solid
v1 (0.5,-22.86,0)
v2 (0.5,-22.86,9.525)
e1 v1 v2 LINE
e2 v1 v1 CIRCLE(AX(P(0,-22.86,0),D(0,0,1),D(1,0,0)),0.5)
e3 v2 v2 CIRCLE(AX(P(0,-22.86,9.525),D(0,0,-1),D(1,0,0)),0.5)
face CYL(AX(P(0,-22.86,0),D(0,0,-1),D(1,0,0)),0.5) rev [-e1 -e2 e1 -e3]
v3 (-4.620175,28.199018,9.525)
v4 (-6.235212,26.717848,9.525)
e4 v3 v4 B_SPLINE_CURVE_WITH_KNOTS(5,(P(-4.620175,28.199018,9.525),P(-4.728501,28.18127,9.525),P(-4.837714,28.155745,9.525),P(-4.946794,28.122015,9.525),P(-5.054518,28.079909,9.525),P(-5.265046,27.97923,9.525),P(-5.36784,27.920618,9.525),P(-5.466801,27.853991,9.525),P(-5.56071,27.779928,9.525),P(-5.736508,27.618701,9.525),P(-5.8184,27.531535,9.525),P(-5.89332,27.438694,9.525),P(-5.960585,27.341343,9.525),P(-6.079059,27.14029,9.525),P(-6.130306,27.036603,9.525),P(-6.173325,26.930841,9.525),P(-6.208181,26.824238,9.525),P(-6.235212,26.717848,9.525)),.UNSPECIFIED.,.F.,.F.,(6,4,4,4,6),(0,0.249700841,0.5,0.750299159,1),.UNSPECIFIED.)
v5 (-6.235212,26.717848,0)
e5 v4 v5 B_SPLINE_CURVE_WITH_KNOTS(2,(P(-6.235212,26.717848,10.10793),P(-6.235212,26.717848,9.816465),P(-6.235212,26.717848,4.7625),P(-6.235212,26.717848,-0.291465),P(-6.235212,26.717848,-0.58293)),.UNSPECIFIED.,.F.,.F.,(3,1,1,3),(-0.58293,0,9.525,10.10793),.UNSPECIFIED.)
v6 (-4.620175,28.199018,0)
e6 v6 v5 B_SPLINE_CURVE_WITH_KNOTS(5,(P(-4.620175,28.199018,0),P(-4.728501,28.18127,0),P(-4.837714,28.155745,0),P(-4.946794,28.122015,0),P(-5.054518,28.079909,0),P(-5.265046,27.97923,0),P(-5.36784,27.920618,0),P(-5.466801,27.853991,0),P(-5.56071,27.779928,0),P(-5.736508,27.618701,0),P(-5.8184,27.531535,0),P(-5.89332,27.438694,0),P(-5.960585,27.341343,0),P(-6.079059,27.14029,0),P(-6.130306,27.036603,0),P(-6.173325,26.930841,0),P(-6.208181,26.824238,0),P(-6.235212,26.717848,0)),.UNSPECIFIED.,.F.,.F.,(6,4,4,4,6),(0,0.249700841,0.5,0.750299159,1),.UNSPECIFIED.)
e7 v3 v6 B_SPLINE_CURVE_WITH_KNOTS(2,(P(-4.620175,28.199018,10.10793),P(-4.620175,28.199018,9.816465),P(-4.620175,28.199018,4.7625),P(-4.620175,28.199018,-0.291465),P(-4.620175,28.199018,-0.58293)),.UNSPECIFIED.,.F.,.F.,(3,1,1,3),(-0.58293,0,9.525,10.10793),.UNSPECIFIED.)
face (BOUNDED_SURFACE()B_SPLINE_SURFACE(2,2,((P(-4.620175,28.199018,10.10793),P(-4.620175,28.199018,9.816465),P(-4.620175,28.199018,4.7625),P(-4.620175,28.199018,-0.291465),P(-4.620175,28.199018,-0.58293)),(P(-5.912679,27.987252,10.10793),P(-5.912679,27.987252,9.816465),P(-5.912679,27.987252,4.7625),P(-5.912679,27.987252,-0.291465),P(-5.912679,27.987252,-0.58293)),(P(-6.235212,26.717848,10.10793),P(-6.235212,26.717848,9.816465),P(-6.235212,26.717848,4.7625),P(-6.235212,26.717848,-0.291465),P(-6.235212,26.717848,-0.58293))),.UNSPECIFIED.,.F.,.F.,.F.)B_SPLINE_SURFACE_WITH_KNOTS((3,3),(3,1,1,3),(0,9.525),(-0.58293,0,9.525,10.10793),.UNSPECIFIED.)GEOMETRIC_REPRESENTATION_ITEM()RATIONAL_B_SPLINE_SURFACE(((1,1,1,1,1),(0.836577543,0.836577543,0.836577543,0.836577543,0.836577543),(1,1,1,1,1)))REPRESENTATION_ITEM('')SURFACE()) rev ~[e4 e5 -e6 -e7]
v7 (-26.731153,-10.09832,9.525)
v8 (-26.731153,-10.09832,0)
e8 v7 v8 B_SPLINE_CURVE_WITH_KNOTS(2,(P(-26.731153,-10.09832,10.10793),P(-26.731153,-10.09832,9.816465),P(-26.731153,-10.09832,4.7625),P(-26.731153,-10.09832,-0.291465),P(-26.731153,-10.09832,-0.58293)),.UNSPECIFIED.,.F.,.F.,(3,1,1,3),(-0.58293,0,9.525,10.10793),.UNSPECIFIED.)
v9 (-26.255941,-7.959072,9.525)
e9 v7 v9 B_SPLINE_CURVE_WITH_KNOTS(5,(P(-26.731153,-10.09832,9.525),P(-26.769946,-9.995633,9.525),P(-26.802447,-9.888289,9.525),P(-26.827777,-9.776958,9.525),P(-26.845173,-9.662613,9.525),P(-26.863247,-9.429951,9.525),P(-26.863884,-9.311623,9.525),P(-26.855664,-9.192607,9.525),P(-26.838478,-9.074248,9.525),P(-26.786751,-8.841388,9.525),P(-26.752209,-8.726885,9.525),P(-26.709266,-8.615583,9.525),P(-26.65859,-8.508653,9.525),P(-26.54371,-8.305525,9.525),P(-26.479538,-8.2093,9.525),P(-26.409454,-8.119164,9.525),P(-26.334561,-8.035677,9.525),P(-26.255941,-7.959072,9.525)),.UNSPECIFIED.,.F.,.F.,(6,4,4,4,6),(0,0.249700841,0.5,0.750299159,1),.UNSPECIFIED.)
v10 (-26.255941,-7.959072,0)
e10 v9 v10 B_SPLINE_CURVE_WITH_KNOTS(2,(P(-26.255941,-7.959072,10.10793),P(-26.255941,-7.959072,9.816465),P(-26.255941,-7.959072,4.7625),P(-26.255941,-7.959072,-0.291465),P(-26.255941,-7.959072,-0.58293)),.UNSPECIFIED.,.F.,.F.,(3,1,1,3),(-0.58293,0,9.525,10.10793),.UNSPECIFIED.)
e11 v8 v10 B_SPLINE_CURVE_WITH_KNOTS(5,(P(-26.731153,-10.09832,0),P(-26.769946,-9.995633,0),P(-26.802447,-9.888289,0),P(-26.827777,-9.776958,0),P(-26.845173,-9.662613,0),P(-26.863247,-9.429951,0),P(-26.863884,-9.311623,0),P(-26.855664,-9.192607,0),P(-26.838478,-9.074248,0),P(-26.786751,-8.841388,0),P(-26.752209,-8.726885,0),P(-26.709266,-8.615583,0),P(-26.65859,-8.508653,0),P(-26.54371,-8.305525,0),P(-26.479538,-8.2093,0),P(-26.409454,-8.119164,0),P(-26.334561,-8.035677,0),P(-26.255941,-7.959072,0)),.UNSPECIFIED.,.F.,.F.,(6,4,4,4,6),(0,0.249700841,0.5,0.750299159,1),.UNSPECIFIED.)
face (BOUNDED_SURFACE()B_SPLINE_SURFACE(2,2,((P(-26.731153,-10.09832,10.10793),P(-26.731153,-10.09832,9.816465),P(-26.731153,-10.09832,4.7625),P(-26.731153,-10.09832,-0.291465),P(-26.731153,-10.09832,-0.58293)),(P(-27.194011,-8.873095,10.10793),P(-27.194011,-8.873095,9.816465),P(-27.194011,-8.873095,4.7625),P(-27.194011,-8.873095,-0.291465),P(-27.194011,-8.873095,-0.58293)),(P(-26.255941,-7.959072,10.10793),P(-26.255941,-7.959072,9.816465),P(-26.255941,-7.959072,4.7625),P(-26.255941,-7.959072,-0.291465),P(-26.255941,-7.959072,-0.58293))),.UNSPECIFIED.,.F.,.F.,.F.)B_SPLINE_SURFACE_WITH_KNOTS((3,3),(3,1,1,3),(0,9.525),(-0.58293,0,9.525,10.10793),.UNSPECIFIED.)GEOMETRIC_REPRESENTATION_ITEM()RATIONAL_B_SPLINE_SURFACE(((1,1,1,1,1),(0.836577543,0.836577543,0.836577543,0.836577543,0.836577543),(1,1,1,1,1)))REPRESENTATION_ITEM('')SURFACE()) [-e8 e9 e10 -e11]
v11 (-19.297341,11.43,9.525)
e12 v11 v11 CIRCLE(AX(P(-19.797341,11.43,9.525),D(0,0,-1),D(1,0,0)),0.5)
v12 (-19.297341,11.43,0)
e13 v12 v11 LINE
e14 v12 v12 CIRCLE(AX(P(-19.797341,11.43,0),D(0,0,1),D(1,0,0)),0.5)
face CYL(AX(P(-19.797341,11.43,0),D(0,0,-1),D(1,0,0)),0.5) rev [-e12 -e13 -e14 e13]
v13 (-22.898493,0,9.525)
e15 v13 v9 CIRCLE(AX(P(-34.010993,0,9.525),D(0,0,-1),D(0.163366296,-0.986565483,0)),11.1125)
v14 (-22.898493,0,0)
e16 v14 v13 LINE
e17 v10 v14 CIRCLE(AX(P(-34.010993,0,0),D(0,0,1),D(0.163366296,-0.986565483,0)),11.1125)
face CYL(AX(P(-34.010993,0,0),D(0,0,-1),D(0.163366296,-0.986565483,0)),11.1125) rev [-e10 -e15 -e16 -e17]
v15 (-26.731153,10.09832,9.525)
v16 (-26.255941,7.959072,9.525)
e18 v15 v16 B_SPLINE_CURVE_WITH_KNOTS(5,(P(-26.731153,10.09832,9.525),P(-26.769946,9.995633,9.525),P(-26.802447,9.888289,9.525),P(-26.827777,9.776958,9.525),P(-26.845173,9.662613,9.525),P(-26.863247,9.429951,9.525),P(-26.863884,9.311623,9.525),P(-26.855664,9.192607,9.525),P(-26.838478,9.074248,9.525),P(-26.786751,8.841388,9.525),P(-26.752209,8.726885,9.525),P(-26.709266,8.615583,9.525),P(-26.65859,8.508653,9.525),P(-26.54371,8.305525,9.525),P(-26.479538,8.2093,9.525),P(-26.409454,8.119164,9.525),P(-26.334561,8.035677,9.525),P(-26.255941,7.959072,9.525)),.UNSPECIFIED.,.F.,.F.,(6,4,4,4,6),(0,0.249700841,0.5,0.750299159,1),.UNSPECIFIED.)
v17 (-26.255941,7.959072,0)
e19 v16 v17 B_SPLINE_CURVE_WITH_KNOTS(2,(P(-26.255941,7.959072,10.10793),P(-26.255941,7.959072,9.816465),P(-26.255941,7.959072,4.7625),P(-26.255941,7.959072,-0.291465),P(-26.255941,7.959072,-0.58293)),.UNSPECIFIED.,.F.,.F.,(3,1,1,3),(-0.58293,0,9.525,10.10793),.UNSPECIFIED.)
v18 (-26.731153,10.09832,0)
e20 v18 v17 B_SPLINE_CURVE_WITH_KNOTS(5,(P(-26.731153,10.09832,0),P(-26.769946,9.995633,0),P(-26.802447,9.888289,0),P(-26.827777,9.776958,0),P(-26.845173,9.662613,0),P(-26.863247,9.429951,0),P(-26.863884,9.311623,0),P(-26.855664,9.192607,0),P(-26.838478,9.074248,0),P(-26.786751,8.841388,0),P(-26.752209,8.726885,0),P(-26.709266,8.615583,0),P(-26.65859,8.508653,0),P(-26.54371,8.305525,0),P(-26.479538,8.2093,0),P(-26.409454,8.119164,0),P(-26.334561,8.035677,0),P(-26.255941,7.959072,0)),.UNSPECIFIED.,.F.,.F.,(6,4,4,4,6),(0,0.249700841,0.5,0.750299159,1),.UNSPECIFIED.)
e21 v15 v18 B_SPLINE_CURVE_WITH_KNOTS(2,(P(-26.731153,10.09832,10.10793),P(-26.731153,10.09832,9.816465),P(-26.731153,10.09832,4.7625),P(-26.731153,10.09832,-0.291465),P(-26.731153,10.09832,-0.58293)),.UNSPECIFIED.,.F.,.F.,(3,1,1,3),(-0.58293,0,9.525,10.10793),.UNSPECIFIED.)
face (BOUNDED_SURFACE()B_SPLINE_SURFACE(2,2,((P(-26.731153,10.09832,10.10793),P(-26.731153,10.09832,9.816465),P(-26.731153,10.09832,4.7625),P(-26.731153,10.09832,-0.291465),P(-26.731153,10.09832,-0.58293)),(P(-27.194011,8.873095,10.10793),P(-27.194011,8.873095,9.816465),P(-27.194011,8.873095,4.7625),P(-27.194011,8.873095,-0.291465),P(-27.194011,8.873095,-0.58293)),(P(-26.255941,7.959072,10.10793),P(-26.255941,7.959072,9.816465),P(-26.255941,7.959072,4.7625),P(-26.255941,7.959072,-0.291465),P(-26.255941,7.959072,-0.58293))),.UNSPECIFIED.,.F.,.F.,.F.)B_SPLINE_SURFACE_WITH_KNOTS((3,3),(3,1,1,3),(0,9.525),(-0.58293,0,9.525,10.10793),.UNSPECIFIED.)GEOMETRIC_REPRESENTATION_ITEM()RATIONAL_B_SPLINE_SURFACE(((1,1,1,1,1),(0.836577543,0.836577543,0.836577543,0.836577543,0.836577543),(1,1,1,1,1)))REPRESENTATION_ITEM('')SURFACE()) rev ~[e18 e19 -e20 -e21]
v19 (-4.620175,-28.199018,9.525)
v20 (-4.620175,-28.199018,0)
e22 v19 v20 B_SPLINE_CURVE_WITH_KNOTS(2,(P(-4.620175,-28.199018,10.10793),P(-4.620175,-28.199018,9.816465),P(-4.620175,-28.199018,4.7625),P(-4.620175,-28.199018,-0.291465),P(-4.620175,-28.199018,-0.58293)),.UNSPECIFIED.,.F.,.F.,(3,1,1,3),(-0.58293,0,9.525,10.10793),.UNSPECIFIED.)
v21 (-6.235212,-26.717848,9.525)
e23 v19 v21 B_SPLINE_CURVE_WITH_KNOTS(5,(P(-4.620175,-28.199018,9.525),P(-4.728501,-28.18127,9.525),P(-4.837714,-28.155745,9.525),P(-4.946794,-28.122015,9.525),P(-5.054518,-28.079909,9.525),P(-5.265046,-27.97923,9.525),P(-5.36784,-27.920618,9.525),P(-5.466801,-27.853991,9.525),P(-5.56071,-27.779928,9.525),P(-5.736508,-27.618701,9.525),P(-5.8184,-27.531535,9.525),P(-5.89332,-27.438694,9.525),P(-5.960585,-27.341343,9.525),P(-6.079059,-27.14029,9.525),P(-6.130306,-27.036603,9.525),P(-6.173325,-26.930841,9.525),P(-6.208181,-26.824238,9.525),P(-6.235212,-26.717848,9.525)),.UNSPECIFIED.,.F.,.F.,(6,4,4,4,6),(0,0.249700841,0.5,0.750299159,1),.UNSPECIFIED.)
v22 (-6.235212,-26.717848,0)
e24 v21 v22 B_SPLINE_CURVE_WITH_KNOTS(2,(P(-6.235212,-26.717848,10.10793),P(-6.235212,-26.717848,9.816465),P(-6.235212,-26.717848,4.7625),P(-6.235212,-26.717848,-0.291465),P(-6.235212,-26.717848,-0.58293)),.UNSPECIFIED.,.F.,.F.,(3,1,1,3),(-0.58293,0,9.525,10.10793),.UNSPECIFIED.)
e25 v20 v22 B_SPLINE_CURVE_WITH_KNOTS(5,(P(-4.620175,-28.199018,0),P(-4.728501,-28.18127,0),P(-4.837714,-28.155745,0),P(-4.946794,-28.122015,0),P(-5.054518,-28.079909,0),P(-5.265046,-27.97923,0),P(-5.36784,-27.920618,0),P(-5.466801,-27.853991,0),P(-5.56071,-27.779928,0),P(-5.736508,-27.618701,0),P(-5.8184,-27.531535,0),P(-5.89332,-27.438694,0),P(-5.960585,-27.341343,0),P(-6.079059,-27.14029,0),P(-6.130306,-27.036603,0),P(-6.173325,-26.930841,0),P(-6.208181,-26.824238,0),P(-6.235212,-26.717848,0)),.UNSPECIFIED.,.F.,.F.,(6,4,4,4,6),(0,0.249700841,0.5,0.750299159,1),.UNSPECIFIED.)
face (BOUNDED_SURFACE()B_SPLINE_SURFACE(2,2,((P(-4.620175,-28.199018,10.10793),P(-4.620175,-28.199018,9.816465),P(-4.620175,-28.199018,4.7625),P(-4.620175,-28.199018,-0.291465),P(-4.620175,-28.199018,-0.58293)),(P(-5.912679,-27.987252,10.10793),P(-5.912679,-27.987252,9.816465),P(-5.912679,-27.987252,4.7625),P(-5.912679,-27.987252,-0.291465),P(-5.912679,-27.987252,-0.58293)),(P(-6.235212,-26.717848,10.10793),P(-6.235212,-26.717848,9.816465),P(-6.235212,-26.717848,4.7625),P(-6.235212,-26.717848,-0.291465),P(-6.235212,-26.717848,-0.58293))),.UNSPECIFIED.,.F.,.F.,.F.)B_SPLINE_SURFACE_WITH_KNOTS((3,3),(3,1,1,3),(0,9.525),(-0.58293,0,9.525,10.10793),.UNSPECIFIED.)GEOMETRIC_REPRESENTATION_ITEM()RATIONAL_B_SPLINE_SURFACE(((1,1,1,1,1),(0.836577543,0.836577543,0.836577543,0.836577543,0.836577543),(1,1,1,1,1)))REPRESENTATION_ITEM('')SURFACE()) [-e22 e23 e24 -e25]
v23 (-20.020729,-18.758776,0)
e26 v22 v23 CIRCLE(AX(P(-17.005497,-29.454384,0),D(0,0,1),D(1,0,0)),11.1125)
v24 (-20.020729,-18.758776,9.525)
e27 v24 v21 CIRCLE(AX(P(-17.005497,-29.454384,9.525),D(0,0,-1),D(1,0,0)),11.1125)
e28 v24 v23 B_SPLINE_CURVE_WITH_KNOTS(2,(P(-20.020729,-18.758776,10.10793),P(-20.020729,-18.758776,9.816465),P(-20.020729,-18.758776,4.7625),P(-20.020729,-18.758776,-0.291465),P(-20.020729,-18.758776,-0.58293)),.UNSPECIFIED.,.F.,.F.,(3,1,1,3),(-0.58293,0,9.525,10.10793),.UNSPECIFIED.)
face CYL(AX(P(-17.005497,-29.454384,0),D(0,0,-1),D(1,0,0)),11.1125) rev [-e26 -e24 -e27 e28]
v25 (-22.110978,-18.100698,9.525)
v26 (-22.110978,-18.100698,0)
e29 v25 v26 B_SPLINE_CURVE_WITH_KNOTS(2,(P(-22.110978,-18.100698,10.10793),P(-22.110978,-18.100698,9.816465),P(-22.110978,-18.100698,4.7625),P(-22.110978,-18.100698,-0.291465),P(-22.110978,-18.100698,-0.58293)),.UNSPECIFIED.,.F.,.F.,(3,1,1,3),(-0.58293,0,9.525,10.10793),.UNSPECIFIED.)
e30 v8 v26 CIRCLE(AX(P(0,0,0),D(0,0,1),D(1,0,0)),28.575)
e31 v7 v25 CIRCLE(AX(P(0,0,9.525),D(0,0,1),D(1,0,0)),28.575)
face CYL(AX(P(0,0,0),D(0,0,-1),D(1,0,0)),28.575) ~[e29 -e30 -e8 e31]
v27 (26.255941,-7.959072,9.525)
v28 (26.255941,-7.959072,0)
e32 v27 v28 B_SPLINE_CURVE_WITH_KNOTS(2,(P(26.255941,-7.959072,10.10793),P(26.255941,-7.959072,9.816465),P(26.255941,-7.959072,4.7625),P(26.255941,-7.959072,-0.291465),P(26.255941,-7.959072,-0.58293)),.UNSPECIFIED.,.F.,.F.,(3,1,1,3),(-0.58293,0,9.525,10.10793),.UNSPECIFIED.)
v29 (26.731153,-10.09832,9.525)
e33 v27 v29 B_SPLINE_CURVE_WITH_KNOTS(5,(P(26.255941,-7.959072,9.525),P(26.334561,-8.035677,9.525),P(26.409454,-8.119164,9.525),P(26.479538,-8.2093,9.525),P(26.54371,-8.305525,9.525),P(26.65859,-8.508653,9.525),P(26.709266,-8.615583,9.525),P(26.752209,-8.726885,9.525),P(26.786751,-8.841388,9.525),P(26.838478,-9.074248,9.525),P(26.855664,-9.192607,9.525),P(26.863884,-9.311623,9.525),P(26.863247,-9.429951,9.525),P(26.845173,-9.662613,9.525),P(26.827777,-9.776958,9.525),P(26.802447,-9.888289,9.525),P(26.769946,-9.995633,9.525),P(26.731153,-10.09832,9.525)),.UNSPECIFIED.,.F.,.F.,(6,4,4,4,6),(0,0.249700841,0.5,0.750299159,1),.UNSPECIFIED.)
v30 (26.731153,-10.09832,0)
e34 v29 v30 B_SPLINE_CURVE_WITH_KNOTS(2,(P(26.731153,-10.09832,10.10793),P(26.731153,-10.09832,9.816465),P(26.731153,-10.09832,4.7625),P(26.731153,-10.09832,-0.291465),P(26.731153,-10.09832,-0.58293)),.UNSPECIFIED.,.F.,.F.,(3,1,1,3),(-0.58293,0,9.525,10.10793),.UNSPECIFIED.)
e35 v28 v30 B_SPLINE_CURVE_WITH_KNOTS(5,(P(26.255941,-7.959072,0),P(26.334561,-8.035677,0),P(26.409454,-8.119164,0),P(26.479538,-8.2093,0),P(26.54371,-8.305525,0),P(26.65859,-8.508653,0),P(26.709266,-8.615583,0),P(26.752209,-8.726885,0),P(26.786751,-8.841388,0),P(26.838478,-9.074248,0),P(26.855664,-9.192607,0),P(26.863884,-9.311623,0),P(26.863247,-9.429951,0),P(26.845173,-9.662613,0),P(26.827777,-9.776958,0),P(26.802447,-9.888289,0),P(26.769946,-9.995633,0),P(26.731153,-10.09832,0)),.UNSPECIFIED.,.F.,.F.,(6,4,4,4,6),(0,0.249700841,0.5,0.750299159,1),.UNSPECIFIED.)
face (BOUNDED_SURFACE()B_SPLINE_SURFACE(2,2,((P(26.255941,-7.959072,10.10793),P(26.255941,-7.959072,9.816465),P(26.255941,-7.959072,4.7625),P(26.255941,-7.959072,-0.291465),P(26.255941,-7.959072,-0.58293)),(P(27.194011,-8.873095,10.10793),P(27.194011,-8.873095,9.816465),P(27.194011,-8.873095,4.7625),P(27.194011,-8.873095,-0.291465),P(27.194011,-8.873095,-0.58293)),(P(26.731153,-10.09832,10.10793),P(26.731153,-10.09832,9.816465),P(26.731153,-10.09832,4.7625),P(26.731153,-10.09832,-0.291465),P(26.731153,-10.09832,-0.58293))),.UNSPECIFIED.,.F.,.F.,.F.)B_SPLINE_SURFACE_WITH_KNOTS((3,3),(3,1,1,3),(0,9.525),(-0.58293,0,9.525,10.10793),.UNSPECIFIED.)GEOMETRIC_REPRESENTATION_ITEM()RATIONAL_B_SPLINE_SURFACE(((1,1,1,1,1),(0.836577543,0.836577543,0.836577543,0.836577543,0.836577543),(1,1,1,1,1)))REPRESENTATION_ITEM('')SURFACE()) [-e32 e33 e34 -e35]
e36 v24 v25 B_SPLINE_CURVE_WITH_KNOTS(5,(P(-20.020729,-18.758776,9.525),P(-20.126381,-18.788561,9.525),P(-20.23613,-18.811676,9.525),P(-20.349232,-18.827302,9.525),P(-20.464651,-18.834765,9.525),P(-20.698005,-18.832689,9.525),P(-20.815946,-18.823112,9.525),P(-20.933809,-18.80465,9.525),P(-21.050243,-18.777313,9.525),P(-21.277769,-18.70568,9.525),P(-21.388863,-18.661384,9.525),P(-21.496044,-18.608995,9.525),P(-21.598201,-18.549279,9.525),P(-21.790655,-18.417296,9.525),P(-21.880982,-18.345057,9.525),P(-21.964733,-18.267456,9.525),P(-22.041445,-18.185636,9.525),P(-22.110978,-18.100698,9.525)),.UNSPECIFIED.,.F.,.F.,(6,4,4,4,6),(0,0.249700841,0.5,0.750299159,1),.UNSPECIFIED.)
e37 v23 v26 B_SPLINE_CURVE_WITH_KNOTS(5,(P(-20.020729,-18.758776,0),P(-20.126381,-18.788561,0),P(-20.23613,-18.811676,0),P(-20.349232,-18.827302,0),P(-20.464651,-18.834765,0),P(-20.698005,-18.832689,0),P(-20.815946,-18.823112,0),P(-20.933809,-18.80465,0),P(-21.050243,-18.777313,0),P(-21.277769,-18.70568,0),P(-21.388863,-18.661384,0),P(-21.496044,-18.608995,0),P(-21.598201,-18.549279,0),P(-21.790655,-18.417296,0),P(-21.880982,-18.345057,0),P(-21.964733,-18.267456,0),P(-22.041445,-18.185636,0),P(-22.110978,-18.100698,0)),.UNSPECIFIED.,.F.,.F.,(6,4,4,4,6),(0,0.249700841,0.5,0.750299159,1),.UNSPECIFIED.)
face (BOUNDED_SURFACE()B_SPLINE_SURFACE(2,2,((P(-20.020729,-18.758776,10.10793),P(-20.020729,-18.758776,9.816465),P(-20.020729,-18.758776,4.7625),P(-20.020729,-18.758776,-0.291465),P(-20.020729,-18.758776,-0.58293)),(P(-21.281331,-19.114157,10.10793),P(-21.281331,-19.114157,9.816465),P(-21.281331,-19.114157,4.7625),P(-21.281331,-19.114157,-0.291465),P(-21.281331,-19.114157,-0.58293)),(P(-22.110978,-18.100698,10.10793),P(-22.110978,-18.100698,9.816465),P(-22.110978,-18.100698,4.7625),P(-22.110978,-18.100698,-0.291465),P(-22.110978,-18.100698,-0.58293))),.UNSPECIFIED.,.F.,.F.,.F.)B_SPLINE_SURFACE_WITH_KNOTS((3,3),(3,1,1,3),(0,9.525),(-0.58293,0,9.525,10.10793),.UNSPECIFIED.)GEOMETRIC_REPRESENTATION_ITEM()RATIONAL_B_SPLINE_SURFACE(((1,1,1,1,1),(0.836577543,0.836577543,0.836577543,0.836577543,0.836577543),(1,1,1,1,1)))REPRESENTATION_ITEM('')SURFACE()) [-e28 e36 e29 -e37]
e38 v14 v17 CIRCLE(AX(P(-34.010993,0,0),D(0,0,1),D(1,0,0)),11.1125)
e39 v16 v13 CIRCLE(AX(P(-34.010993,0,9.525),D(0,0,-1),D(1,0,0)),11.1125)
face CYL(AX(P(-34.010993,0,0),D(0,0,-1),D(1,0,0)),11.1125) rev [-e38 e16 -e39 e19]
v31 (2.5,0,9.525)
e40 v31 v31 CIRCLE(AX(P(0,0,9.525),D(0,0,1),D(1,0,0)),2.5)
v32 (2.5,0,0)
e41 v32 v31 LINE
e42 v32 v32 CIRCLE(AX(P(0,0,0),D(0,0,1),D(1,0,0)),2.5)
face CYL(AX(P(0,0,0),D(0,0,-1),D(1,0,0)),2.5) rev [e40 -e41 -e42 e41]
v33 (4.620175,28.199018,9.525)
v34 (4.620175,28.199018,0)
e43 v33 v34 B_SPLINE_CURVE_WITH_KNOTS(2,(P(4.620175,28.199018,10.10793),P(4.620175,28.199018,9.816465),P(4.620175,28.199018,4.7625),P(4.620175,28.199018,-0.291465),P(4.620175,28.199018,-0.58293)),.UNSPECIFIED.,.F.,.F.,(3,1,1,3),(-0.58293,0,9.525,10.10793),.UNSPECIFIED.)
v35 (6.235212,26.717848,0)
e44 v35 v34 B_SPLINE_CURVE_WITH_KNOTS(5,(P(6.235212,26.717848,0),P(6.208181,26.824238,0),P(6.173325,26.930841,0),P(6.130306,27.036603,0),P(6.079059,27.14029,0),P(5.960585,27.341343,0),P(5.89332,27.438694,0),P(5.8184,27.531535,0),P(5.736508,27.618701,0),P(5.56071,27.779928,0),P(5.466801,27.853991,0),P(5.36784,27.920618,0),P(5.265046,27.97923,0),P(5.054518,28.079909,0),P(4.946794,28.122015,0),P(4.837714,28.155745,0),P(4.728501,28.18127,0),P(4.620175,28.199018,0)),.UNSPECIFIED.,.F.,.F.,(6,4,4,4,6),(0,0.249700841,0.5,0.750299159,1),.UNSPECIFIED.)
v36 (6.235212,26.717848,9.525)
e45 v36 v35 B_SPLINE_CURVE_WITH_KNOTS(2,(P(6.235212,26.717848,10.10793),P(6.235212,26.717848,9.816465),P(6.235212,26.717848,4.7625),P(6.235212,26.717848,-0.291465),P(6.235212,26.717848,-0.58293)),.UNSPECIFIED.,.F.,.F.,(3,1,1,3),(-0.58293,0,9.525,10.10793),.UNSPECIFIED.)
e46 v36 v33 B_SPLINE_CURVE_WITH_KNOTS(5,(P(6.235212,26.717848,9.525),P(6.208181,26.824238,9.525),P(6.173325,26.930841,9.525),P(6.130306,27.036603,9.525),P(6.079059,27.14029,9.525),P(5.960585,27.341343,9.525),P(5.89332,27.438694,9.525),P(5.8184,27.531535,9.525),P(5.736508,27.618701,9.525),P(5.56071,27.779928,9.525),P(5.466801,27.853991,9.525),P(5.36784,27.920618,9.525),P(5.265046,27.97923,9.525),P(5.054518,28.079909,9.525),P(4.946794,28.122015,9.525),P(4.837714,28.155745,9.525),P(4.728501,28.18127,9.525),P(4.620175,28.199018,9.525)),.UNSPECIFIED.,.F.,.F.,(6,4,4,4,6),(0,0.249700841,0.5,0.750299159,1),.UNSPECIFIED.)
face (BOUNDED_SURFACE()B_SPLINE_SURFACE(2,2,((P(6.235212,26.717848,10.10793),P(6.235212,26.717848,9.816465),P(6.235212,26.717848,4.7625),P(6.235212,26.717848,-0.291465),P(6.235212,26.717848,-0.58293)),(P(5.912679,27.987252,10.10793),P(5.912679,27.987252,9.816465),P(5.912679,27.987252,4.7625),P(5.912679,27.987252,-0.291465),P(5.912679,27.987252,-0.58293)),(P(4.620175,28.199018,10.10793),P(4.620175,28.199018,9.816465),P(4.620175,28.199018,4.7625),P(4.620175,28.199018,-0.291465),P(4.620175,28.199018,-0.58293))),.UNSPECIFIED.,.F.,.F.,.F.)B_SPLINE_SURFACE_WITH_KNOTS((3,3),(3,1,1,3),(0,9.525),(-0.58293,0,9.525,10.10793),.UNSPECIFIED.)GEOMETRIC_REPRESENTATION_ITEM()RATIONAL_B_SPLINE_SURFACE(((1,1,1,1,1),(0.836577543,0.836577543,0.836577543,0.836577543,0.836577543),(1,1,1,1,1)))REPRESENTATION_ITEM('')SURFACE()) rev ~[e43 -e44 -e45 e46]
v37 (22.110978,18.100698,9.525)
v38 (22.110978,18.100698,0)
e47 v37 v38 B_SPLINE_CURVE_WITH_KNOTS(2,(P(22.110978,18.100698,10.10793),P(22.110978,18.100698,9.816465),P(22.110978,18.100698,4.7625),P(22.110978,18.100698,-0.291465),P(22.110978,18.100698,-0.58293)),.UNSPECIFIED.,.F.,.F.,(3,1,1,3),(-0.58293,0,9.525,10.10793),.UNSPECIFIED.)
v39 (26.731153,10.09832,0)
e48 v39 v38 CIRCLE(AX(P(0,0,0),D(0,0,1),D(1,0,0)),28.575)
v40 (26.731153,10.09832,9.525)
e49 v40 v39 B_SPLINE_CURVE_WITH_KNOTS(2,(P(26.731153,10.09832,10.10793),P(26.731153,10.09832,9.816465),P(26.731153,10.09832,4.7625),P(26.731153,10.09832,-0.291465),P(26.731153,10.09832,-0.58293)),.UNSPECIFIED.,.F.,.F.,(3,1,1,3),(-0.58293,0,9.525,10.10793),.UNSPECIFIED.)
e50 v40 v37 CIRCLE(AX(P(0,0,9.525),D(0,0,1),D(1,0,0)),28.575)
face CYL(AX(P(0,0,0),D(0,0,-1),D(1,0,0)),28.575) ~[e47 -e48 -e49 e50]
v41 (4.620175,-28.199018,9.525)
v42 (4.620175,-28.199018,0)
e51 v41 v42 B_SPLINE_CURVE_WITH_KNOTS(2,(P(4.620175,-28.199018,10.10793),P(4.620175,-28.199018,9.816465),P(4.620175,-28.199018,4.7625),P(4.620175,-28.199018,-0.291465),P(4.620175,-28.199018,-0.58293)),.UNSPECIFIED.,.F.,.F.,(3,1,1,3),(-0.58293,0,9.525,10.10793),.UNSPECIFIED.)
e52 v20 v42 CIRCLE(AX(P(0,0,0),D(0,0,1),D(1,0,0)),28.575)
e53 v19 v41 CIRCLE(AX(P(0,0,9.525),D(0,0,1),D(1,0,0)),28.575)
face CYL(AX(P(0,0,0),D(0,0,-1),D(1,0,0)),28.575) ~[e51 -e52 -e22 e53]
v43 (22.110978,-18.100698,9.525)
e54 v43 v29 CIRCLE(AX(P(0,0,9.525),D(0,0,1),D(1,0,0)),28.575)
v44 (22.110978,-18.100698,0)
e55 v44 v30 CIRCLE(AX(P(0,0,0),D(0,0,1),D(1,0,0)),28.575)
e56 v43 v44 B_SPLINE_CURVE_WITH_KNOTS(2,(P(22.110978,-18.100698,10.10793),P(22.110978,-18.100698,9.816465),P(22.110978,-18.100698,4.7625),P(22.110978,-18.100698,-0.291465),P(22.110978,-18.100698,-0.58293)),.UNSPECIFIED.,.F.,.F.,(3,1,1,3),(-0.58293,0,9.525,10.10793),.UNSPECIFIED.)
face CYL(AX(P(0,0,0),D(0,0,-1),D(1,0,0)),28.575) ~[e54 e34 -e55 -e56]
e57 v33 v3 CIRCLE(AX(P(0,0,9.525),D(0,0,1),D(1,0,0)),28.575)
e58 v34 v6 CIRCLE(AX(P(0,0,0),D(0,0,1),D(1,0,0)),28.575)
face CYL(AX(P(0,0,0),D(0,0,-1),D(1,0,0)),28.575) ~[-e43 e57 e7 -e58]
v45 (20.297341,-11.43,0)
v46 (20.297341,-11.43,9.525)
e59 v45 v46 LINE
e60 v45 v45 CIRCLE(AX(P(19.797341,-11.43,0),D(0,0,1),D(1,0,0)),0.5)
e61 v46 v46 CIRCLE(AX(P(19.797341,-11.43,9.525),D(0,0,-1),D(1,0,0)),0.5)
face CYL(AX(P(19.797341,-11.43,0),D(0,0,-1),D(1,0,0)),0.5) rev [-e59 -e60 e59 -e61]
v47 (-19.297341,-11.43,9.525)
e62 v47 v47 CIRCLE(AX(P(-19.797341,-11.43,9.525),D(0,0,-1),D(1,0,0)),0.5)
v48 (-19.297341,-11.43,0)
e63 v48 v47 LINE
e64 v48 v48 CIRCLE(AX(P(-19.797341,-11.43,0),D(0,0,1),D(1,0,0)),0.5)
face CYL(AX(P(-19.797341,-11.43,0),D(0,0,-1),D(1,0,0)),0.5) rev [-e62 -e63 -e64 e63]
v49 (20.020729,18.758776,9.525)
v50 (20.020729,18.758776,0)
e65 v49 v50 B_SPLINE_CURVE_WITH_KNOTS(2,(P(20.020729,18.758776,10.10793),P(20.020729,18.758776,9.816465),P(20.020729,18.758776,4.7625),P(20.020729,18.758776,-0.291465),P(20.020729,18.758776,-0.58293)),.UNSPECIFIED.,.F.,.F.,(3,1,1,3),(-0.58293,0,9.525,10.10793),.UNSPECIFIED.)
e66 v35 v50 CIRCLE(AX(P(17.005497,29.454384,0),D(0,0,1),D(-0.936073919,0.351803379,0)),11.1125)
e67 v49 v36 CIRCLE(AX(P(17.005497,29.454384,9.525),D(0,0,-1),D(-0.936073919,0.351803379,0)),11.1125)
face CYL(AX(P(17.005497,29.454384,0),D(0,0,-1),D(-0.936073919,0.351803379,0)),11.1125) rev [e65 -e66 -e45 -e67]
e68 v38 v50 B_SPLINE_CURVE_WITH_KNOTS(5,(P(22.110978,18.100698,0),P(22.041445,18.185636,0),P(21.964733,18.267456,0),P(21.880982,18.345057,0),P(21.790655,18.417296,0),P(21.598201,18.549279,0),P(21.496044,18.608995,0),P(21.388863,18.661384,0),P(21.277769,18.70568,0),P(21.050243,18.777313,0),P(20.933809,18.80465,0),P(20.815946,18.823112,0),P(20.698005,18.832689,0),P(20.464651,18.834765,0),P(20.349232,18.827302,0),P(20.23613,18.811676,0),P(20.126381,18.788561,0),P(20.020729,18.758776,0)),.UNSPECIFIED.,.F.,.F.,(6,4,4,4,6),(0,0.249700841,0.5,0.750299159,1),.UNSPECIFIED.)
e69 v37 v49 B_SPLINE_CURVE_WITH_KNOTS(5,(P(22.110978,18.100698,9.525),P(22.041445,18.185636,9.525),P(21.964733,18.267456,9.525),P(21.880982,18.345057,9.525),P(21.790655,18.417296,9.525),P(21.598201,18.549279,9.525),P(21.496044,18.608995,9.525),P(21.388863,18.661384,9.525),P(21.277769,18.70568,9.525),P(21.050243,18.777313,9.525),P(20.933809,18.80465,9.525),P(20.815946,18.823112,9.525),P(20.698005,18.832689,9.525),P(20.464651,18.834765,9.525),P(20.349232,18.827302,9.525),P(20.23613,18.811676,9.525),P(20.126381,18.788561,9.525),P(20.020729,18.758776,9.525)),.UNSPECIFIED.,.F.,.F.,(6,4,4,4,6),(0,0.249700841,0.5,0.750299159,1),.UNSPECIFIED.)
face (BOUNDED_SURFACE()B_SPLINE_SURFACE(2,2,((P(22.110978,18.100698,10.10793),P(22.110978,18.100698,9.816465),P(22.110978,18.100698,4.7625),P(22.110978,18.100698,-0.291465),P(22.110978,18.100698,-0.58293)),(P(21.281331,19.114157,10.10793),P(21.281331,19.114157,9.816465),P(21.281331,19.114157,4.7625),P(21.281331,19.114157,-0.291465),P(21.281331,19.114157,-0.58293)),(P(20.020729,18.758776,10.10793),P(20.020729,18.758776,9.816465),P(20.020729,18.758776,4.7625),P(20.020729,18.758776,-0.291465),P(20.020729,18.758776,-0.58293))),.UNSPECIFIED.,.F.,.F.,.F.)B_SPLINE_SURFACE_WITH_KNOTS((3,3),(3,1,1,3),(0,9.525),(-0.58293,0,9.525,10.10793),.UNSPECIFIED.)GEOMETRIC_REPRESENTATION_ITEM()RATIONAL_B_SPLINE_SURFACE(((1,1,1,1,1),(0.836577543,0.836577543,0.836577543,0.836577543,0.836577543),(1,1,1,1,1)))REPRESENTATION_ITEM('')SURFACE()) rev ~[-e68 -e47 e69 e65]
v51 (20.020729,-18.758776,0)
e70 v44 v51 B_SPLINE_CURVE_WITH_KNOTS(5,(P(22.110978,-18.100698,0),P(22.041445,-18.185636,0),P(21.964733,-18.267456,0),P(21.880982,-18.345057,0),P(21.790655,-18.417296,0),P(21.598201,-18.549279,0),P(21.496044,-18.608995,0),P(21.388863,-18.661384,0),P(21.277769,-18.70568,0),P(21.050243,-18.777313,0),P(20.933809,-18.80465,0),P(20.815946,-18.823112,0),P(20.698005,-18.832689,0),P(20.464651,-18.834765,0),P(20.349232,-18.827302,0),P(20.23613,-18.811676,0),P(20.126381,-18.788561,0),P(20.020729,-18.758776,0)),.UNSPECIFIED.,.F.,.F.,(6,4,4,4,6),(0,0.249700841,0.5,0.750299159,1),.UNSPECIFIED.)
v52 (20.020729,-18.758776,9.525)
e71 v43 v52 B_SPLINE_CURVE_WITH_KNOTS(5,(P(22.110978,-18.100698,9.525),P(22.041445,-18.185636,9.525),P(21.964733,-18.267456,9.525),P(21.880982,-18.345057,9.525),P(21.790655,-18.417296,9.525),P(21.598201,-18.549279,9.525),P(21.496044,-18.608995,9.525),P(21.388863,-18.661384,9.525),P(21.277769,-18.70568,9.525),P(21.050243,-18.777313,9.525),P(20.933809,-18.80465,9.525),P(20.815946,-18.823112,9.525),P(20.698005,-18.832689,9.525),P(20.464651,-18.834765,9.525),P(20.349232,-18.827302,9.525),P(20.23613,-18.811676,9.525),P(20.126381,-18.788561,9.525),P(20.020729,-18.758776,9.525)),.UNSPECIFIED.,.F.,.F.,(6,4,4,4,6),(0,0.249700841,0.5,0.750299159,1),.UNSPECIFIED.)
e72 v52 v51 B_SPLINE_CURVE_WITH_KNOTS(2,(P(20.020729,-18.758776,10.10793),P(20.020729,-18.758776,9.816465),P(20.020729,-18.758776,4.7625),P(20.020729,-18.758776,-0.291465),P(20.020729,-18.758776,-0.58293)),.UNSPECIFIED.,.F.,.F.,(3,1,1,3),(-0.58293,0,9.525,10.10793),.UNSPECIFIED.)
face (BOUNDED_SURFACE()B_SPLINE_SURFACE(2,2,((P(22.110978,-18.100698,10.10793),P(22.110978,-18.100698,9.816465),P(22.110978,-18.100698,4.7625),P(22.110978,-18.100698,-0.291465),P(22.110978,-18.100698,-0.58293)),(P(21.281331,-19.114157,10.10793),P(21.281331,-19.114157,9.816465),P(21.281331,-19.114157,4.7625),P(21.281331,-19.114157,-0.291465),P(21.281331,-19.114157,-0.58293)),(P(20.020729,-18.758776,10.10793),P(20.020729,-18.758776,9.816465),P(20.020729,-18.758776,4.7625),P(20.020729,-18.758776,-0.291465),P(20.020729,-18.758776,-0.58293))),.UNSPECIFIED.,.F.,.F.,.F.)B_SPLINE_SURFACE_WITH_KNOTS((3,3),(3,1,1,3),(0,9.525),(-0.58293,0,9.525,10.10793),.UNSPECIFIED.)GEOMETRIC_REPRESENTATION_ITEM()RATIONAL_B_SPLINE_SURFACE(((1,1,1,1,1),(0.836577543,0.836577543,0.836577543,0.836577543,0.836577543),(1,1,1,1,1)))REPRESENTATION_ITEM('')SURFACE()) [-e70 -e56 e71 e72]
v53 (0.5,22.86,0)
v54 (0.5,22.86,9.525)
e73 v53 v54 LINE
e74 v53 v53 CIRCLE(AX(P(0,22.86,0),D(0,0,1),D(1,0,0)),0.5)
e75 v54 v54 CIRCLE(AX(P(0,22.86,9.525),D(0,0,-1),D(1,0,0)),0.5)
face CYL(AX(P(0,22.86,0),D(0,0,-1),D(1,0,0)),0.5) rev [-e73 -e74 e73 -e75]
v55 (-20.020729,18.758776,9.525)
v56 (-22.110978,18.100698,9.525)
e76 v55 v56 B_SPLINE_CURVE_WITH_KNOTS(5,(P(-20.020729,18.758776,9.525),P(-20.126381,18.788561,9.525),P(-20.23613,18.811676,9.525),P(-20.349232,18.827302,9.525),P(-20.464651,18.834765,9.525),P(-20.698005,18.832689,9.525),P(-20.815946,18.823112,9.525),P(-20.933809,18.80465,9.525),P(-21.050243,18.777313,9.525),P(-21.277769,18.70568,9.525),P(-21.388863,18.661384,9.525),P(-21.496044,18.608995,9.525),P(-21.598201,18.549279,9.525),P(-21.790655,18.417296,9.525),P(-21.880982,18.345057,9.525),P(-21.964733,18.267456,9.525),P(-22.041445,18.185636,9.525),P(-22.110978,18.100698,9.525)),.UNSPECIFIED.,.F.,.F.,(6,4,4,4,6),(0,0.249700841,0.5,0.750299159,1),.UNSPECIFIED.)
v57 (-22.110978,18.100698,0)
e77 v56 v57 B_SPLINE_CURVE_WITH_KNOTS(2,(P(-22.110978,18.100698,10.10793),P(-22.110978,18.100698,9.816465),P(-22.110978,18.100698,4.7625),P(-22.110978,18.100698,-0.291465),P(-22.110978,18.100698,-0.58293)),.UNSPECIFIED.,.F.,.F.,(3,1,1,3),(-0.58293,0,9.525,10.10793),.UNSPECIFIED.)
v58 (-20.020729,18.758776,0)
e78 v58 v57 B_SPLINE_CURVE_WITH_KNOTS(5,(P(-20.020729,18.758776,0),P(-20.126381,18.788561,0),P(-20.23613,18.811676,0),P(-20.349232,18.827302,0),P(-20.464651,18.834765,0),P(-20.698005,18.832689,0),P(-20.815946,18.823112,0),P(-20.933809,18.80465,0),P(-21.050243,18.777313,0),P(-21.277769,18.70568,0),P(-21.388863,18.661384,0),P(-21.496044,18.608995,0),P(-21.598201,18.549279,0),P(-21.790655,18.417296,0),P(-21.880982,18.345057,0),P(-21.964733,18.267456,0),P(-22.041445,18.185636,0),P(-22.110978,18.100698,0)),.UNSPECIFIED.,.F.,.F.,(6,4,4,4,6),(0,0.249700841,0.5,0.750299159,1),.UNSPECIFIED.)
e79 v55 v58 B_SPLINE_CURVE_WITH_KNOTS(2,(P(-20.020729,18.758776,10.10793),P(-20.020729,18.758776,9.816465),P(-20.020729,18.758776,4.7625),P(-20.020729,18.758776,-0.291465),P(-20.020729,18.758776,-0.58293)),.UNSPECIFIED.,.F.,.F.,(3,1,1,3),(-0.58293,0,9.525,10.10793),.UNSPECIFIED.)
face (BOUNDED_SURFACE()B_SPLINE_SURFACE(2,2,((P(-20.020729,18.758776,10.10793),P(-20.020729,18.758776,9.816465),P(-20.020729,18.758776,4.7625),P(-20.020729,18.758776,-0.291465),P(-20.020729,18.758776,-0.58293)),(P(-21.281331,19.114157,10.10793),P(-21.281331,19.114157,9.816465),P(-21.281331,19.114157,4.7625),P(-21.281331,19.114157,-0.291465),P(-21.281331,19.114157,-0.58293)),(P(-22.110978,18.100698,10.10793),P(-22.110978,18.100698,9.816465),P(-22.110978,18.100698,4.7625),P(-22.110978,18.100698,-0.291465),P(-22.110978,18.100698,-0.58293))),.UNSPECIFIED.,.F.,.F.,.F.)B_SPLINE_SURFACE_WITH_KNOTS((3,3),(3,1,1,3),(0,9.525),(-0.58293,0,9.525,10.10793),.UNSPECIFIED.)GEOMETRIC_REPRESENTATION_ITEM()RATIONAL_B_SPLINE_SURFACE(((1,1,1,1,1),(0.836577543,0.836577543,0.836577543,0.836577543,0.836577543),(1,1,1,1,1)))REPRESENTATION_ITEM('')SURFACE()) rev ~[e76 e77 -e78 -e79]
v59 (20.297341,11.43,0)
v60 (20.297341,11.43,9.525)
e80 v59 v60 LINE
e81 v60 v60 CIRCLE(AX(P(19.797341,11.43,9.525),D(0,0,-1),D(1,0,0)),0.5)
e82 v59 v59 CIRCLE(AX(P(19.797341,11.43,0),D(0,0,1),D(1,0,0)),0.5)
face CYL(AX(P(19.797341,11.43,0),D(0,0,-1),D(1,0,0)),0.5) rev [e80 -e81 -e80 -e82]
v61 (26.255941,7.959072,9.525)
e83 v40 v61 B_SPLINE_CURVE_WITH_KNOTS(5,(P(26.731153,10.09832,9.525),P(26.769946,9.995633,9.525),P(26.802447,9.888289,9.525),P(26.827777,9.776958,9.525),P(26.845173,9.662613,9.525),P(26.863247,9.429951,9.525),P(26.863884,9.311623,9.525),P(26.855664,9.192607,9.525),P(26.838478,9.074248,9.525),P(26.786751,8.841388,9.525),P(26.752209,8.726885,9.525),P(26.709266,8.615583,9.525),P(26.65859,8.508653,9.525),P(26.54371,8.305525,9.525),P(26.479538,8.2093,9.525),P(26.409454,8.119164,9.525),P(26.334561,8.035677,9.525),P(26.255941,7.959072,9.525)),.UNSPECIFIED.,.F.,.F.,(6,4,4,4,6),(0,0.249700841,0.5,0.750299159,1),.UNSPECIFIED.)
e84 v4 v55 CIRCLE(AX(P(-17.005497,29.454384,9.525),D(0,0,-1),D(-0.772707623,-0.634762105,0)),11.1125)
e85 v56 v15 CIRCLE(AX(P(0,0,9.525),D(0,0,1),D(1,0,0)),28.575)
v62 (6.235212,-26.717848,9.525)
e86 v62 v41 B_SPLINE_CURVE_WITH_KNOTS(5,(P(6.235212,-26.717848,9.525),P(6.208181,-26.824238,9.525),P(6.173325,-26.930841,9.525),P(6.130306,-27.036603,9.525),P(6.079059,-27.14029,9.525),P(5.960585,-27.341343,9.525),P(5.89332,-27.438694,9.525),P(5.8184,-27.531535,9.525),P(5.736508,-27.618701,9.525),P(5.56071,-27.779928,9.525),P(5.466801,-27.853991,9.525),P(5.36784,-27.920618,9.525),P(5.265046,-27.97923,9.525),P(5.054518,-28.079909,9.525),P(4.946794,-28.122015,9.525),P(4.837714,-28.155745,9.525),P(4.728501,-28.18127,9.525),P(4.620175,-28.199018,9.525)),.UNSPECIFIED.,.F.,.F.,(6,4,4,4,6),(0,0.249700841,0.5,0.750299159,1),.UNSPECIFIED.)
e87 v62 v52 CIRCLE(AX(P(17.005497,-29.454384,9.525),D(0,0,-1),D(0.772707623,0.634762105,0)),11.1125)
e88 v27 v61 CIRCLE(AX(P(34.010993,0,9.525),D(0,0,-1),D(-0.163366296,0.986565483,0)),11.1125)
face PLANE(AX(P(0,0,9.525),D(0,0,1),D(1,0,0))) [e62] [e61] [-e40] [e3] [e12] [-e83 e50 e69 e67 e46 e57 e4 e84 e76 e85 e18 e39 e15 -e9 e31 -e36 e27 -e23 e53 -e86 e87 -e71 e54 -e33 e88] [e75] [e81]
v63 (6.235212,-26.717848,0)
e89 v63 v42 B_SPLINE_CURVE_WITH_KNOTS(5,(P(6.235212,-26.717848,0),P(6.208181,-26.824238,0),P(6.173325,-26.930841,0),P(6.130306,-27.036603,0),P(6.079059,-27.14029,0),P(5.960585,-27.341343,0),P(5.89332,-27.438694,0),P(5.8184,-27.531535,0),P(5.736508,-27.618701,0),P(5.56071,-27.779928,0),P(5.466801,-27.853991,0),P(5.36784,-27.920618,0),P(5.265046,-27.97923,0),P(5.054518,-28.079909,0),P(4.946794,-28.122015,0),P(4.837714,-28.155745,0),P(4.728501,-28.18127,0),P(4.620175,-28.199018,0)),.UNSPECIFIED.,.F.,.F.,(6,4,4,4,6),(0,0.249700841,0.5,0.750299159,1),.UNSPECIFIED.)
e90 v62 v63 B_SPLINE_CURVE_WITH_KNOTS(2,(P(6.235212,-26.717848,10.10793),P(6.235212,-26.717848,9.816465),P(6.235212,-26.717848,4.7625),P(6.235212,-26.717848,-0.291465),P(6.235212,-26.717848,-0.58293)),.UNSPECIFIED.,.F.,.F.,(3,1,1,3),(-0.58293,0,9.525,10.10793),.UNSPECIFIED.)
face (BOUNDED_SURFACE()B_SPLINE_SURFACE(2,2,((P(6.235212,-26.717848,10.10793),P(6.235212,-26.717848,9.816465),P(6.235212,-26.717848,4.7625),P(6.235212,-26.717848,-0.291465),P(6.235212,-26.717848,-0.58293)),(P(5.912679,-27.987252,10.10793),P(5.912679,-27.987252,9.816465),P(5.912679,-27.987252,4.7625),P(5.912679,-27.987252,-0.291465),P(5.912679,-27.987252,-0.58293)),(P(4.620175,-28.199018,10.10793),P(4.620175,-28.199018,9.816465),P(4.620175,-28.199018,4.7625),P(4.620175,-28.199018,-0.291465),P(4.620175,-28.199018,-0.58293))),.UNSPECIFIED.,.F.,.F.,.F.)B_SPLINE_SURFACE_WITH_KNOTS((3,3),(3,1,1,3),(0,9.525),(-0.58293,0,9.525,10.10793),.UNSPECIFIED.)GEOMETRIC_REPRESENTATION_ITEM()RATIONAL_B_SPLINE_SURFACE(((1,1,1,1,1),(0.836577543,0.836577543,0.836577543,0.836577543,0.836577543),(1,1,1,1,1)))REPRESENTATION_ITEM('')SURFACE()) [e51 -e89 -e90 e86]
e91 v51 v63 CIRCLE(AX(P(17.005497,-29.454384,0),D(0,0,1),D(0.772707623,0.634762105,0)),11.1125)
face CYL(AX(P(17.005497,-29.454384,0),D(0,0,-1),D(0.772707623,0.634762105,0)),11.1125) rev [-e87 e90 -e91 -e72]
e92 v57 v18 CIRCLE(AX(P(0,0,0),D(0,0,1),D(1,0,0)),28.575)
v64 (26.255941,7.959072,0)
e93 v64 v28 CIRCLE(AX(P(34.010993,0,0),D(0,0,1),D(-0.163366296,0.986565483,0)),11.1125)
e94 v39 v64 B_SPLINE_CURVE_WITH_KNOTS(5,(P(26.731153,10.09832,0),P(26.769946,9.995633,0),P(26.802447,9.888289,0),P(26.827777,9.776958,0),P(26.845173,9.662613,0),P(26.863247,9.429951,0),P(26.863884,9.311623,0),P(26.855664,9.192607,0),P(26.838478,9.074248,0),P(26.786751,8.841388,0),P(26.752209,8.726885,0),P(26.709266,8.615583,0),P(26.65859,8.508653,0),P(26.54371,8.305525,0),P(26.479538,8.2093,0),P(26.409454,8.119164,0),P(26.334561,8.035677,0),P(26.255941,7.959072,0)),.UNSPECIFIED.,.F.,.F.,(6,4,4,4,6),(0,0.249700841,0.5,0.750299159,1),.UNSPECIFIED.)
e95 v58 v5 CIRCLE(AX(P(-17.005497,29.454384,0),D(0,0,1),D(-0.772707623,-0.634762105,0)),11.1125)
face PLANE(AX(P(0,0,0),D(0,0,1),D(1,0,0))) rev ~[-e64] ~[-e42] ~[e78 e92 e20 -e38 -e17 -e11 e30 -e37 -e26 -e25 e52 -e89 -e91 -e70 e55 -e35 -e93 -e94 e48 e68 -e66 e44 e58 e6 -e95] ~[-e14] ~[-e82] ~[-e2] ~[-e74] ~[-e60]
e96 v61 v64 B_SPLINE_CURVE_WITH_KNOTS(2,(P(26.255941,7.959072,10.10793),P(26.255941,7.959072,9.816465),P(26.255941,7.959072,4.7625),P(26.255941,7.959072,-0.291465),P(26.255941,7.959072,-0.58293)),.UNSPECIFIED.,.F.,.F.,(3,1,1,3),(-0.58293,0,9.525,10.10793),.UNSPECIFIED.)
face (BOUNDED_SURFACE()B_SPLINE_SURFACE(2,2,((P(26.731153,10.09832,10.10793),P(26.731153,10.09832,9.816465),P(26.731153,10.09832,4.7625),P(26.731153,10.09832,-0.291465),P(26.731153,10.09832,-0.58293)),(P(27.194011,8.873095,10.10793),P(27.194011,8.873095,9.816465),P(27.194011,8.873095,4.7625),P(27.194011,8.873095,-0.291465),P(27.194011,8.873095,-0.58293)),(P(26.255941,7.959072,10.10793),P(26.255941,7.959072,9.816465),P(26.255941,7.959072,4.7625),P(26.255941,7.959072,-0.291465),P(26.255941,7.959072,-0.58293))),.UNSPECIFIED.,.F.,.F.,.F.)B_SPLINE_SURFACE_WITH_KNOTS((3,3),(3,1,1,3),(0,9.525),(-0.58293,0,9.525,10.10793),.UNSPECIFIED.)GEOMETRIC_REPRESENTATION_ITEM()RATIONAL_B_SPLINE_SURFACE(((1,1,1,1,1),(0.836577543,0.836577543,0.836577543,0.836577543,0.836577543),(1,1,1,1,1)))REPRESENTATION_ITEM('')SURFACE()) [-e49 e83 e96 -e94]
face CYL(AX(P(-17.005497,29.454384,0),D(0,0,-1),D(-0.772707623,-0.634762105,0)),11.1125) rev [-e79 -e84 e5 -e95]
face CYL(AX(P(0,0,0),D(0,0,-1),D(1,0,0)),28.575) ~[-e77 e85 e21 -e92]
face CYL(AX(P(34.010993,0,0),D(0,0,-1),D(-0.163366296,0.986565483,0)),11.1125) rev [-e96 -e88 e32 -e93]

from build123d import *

# Parameters (mm, degrees)
F0_R     = 28.575
F0_R_2   = 2.5
F1_DEPTH = 9.525
F3_DEPTH = 25.4
F4_R     = 0.5
F5_DEPTH = 25.4
F6_R     = 2


with BuildPart() as f1:
    # F0 (on Top) → F1 (new body)
    with BuildSketch(Plane.XY):
        Circle(F0_R)
        Circle(F0_R_2, mode=Mode.SUBTRACT)
    extrude(amount=F1_DEPTH)

    # F2 (on Top) → F3 (cut)
    with BuildSketch(Plane.XY):
        with BuildLine():
            ThreePointArc((6.6033751745, -33.3637991738), (17.0054966041, -29.4543841262), (25.592210064, -22.4005902387))
            ThreePointArc((25.592210064, -22.4005902387), (11.4492466041, -19.8306768266), (6.6033751745, -33.3637991738))
        make_face()
        with BuildLine():
            ThreePointArc((-25.592210064, -22.4005902387), (-17.0054966041, -29.4543841262), (-6.6033751745, -33.3637991738))
            ThreePointArc((-6.6033751745, -33.3637991738), (-6.0720335059, -31.4411002438), (-5.8929966041, -29.4543841262))
            ThreePointArc((-5.8929966041, -29.4543841262), (-13.259311683, -18.9923692731), (-25.592210064, -22.4005902387))
        make_face()
        with BuildLine():
            ThreePointArc((-22.8984932081, 0), (-25.5356944726, 7.187278177), (-32.1955852385, 10.9632089351))
            ThreePointArc((-32.1955852385, 10.9632089351), (-34.0109932081, 0), (-32.1955852385, -10.9632089351))
            ThreePointArc((-32.1955852385, -10.9632089351), (-25.5356944726, -7.187278177), (-22.8984932081, 0))
        make_face()
        with BuildLine():
            ThreePointArc((-5.8929966041, 29.4543841262), (-6.0720335059, 31.4411002438), (-6.6033751745, 33.3637991738))
            ThreePointArc((-6.6033751745, 33.3637991738), (-17.0054966041, 29.4543841262), (-25.592210064, 22.4005902387))
            ThreePointArc((-25.592210064, 22.4005902387), (-13.259311683, 18.9923692731), (-5.8929966041, 29.4543841262))
        make_face()
        with BuildLine():
            ThreePointArc((6.6033751745, 33.3637991738), (11.4492466041, 19.8306768266), (25.592210064, 22.4005902387))
            ThreePointArc((25.592210064, 22.4005902387), (17.0054966041, 29.4543841262), (6.6033751745, 33.3637991738))
        make_face()
        with BuildLine():
            ThreePointArc((32.1955852385, -10.9632089351), (33.5540719577, -5.55625), (34.0109932081, 0))
            ThreePointArc((34.0109932081, 0), (33.5540719577, 5.55625), (32.1955852385, 10.9632089351))
            ThreePointArc((32.1955852385, 10.9632089351), (22.8984932081, 0), (32.1955852385, -10.9632089351))
        make_face()
    extrude(amount=F3_DEPTH, mode=Mode.SUBTRACT)

    # F4 (on Top) → F5 (cut)
    with BuildSketch(Plane.XY):
        with Locations((0, 22.86)):
            Circle(F4_R)
        with Locations((-19.7973407305, 11.43)):
            Circle(F4_R)
        with Locations((-19.7973407305, -11.43)):
            Circle(F4_R)
        with Locations((0, -22.86)):
            Circle(F4_R)
        with Locations((19.7973407305, -11.43)):
            Circle(F4_R)
        with Locations((19.7973407305, 11.43)):
            Circle(F4_R)
    extrude(amount=F5_DEPTH, mode=Mode.SUBTRACT)

    # F6
    f6_edges = [f1.edges().sort_by_distance(p)[0] for p in [
        (-21.197157, 19.162755, 4.7625),
        (-5.996854, 27.938654, 4.7625),
        (21.197157, 19.162755, 4.7625),
        (5.996854, 27.938654, 4.7625),
        (-27.194011, -8.775899, 4.7625),
        (-27.194011, 8.775899, 4.7625),
        (-5.996854, -27.938654, 4.7625),
        (-21.197157, -19.162755, 4.7625),
        (21.197157, -19.162755, 4.7625),
        (5.996854, -27.938654, 4.7625),
        (27.194011, 8.775899, 4.7625),
        (27.194011, -8.775899, 4.7625),
    ]]
    fillet(f6_edges, radius=F6_R)


solid = f1.part
